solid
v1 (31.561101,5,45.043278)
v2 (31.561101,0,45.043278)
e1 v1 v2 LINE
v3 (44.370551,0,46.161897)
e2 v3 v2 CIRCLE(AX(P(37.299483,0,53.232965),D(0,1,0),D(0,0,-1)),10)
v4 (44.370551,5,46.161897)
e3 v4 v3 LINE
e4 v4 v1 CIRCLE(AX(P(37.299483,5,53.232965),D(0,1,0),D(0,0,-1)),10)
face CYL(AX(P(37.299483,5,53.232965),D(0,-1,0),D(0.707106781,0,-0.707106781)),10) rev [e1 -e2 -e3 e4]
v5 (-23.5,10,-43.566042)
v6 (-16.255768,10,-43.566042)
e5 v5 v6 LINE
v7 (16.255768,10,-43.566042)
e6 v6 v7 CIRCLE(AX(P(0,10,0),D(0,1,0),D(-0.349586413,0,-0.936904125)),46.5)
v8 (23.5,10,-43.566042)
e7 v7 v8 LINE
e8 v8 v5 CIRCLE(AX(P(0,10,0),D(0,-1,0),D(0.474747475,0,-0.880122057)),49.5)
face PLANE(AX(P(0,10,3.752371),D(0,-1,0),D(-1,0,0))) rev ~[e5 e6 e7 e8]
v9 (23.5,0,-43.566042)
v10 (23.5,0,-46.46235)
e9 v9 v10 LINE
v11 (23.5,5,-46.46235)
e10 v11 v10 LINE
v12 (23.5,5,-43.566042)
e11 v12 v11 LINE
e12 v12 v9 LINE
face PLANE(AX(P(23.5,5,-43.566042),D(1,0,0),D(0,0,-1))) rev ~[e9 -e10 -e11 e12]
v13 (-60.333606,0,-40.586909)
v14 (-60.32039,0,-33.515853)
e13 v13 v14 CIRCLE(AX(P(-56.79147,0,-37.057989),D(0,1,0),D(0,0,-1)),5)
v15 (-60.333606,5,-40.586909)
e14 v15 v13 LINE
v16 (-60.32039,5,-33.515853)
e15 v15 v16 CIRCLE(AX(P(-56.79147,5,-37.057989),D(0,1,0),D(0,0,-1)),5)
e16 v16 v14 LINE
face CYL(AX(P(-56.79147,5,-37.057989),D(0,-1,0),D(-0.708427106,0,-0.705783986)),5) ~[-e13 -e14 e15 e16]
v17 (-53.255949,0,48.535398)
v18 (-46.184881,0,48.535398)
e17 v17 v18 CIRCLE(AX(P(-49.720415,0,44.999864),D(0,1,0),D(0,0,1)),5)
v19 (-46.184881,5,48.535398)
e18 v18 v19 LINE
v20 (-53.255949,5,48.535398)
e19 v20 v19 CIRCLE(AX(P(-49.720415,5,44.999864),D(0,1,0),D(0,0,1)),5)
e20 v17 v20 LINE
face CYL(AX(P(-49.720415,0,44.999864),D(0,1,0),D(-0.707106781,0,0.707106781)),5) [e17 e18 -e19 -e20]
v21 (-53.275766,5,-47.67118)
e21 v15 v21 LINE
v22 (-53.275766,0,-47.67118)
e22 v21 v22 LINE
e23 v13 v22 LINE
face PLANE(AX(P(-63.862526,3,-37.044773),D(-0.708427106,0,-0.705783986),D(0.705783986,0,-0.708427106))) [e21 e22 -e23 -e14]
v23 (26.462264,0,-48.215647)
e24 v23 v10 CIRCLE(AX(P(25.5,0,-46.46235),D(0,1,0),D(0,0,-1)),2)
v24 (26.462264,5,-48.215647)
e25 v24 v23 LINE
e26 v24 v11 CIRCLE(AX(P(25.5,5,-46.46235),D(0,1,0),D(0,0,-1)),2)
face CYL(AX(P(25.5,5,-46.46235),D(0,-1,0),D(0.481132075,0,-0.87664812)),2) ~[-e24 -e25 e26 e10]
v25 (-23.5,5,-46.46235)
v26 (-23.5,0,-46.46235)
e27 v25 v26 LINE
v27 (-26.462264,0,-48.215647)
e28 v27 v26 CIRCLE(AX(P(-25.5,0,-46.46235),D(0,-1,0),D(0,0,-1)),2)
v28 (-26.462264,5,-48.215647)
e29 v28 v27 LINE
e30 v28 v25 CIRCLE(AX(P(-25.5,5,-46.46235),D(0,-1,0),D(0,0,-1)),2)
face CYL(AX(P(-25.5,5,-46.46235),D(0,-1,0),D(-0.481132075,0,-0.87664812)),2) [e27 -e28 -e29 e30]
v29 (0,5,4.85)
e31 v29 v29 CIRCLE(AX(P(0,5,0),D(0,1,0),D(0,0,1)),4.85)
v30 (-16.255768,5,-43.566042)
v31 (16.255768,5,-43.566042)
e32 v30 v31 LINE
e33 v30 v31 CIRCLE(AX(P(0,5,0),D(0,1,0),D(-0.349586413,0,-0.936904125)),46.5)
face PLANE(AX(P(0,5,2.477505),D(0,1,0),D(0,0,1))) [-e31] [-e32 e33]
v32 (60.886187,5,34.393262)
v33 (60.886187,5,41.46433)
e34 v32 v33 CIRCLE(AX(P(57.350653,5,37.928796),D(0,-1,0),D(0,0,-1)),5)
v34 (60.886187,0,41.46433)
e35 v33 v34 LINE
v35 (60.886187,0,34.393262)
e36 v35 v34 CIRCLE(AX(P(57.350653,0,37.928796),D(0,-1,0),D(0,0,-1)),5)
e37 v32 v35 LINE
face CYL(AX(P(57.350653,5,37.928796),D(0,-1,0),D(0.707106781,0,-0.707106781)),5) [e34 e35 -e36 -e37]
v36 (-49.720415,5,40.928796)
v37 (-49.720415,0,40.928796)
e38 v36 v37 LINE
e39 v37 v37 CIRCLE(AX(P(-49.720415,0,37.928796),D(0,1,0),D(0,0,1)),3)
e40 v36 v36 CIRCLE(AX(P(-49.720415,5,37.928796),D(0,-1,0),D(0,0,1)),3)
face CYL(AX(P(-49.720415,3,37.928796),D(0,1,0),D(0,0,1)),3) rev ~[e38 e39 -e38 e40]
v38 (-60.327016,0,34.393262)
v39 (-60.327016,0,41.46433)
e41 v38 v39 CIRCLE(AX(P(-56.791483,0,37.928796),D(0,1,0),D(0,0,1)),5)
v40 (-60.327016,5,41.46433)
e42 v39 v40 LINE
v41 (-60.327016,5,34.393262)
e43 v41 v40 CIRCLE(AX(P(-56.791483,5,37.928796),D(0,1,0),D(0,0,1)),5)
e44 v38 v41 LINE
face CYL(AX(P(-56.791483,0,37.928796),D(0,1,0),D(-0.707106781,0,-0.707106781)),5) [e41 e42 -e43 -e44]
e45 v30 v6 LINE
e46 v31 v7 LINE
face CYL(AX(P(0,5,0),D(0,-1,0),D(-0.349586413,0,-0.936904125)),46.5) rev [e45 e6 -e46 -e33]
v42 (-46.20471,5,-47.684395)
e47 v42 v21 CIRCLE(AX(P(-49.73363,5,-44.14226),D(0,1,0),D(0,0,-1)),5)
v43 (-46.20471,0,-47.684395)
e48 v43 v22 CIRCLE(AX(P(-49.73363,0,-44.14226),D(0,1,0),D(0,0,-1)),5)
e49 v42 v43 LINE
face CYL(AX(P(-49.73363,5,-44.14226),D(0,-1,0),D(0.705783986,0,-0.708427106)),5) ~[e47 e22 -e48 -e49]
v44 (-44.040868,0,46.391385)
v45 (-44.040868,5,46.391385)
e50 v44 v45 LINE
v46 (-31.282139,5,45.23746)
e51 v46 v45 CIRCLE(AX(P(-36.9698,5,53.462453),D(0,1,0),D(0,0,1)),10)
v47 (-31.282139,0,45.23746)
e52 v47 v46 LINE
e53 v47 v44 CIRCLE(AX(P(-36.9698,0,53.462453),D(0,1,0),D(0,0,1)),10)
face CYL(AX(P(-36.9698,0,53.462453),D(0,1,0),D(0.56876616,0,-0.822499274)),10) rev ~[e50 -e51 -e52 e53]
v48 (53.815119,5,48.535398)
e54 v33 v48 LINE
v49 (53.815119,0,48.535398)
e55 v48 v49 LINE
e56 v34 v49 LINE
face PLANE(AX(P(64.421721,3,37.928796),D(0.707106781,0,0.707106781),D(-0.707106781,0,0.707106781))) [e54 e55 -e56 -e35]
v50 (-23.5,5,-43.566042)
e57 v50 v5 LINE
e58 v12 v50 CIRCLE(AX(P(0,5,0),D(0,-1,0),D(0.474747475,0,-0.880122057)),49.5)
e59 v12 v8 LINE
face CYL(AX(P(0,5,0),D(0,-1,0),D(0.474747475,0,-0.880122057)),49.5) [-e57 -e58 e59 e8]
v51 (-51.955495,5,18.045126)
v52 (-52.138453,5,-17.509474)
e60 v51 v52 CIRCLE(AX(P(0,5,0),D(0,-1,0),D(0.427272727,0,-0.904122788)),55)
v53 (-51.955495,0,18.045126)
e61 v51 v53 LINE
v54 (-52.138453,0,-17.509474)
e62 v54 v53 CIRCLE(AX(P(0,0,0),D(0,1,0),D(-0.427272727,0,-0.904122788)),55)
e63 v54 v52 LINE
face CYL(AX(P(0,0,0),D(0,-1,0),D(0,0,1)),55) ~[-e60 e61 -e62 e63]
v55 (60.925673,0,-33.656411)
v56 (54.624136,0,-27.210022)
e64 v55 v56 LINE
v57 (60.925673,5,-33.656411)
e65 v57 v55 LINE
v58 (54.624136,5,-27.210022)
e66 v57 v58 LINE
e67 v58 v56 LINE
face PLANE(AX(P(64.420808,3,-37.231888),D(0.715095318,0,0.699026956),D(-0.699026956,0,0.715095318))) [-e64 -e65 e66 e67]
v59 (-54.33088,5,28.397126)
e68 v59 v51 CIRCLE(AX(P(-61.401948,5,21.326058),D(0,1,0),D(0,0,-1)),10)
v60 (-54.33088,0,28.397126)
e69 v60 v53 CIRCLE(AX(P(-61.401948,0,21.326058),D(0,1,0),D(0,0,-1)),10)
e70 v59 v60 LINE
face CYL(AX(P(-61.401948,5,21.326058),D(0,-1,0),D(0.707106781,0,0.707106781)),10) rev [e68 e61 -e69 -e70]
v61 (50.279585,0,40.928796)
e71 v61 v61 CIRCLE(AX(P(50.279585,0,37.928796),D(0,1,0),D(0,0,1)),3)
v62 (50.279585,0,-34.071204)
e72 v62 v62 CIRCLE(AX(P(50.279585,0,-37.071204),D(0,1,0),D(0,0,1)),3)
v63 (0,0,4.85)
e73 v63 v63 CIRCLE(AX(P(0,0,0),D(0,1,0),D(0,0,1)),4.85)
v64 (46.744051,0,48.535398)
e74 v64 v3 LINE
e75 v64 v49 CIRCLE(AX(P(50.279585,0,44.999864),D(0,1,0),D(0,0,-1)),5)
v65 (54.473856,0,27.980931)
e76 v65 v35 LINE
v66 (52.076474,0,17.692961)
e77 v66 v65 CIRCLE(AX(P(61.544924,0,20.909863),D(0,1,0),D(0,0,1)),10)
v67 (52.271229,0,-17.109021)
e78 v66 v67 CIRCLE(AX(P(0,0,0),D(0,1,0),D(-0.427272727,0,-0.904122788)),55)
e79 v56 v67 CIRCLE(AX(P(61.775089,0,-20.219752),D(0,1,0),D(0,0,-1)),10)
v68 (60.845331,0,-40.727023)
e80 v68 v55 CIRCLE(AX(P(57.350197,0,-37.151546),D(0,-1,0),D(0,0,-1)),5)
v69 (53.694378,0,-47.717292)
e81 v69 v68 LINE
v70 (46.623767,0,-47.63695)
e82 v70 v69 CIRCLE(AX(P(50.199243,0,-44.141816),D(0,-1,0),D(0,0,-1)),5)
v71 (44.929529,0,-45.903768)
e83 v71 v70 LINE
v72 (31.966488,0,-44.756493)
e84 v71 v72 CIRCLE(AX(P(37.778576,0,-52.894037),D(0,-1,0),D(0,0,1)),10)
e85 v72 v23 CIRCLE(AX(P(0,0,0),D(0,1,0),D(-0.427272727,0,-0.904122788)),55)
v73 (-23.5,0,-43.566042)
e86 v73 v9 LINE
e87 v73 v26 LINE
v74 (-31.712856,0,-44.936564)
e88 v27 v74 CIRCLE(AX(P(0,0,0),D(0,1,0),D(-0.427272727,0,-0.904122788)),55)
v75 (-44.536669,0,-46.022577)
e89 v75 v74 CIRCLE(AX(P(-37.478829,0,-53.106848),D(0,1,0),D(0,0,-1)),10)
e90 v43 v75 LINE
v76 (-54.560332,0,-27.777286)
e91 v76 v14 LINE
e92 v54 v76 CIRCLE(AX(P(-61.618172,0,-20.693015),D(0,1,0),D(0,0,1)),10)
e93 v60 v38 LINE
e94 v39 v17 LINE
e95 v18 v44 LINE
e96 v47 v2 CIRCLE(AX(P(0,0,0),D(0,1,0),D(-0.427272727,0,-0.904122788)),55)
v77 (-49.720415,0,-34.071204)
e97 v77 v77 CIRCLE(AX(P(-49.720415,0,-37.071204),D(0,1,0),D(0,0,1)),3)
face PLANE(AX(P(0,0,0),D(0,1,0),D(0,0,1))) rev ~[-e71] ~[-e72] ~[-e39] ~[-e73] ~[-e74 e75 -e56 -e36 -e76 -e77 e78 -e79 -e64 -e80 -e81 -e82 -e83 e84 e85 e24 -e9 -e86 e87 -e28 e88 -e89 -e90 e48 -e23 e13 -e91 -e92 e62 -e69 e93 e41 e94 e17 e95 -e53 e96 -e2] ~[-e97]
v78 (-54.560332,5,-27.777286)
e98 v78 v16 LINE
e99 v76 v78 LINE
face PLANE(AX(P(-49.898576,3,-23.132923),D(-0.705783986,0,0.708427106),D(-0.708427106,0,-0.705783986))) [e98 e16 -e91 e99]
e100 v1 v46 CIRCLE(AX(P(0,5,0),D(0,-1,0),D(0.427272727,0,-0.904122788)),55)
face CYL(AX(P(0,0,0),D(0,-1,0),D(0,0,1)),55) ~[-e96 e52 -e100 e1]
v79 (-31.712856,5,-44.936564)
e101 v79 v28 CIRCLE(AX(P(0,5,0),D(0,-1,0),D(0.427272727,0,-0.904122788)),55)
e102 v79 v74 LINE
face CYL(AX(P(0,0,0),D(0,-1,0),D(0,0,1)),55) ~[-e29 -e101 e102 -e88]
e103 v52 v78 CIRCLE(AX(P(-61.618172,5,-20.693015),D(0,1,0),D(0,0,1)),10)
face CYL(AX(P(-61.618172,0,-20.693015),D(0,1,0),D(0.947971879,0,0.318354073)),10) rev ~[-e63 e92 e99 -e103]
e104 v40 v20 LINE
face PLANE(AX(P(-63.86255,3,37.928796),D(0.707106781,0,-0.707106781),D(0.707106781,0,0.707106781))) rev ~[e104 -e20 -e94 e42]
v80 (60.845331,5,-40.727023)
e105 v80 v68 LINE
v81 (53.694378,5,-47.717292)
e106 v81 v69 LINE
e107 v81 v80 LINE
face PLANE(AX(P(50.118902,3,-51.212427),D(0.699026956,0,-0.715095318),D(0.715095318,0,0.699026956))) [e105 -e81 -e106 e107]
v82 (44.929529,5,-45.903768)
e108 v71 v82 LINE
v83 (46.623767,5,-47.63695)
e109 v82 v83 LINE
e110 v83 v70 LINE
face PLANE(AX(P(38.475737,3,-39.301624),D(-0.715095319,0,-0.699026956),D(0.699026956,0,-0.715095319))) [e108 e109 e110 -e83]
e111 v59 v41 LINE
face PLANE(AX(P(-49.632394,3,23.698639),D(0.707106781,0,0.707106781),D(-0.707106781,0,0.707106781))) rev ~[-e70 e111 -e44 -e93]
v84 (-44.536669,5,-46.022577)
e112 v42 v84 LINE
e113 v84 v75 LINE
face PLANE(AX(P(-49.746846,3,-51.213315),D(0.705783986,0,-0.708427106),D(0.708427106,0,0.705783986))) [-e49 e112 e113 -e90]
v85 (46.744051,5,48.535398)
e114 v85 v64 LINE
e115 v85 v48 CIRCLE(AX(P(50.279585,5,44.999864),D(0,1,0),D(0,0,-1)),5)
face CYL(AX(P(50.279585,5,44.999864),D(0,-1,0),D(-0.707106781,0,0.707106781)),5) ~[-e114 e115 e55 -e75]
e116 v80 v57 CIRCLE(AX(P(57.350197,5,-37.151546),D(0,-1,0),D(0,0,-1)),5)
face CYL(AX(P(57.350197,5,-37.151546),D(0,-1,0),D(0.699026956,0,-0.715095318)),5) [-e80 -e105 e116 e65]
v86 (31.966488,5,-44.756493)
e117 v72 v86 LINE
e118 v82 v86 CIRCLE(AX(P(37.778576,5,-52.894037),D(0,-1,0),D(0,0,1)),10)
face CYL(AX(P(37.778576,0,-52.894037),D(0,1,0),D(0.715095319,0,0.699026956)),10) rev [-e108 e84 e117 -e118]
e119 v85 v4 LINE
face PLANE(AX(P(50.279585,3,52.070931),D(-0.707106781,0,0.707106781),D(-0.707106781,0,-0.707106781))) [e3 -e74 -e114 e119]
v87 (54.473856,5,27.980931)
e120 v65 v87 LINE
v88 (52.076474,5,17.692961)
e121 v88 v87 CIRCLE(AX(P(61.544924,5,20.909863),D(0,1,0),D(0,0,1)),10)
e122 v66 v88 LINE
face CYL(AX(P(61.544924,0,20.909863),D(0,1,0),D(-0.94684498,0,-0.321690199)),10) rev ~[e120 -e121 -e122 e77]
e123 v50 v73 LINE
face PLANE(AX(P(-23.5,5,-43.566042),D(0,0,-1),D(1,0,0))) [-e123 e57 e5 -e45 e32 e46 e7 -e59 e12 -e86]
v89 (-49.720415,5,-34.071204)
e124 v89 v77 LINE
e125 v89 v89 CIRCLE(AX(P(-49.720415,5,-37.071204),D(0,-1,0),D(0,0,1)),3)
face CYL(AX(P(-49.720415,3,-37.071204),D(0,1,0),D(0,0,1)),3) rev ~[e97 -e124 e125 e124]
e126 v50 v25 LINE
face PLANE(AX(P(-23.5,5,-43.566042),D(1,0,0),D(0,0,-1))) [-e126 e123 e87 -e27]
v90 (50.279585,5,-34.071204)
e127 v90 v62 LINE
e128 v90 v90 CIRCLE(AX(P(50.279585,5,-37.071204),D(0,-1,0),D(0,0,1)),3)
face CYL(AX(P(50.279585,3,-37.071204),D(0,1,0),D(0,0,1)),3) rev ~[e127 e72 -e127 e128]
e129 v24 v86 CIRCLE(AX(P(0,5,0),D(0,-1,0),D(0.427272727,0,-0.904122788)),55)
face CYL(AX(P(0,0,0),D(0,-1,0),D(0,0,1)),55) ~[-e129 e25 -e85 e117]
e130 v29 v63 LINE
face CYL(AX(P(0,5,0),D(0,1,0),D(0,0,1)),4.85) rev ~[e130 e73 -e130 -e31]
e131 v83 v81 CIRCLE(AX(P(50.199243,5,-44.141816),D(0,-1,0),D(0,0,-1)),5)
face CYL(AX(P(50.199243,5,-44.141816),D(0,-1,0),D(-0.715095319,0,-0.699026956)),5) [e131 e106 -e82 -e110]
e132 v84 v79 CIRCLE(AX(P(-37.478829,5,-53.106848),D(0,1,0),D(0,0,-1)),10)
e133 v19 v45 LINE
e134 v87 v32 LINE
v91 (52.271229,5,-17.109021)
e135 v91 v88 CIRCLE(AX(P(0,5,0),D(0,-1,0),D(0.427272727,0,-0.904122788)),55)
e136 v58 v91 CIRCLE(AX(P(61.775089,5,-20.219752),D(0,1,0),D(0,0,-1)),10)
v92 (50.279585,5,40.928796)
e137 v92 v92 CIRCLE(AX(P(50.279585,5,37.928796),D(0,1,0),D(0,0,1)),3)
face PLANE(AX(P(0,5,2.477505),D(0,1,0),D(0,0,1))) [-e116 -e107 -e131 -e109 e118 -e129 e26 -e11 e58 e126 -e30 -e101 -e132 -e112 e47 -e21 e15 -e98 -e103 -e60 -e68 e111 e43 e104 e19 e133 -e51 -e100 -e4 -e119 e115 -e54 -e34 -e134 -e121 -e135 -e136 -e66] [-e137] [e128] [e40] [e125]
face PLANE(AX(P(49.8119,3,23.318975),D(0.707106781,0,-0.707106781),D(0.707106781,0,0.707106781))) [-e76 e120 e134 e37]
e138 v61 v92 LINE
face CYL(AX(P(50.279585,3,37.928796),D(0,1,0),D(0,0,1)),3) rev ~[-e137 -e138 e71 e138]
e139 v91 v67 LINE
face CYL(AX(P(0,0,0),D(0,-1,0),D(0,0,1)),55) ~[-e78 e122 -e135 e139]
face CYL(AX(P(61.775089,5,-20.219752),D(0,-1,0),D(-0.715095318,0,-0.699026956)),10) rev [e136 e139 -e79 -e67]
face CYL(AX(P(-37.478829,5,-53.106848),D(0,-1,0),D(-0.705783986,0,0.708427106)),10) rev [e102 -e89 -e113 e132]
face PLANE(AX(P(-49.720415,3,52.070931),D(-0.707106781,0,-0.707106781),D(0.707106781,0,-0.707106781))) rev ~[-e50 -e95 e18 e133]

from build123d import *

# Parameters (mm, degrees)
SKETCH_1_R                  = 55
EXTRUDE_1_DEPTH             = 5
SKETCH_5_W                  = 47
SKETCH_5_H                  = 12.24289715
CUT_EXTRUDE_2_DEPTH         = 30
FILLET_4_R                  = 2
FILLET_5_R                  = 2
EXTRUDE_3_REACH             = 79.84
EXTRUDE_3_DIRECTION_2_REACH = 79.84
FILLET_7_R                  = 10
FILLET_8_R                  = 5
SKETCH_10_R                 = 3
CUT_EXTRUDE_5_DEPTH         = 5
SKETCH_15_R                 = 4.85
CUT_EXTRUDE_6_DEPTH         = 10
EXTRUDE_4_DEPTH             = 5


with BuildPart() as part:
    # 草图1 → 凸台-拉伸1 (new body)
    with BuildSketch(Plane(origin=(0, 0, 0), x_dir=(1, 0, 0), z_dir=(0, 1, 0))):
        with Locations(Location((0, 0, 0), (0, 0, 270))):
            Circle(SKETCH_1_R)
    extrude(amount=EXTRUDE_1_DEPTH)

    # 草图5 → 切除-拉伸2 (cut)
    with BuildSketch(Plane(origin=(0, 5, 0), x_dir=(1, 0, 0), z_dir=(0, 1, 0))):
        with Locations((0, 49.687490397)):
            Rectangle(SKETCH_5_W, SKETCH_5_H)
    extrude(amount=-CUT_EXTRUDE_2_DEPTH, mode=Mode.SUBTRACT)

    # 圆角4
    fillet_4_edges = [part.edges().sort_by_distance(p)[0] for p in [
        (-23.5, 2.5, -49.726753363),
    ]]
    fillet(fillet_4_edges, radius=FILLET_4_R)

    # 圆角5
    fillet_5_edges = [part.edges().sort_by_distance(p)[0] for p in [
        (23.5, 2.5, -49.726753363),
    ]]
    fillet(fillet_5_edges, radius=FILLET_5_R)

    # 凸台-拉伸3: up to this face of the body (flat: up to its plane)
    extrude_3_end = Plane(part.part.faces().sort_by_distance((0, 0, 2.477505486))[0])
    # 草图14 → 凸台-拉伸3 (add, up to the picked face)
    with BuildSketch(Plane(origin=(0, 3, 0), x_dir=(1, 0, 0), z_dir=(0, 1, 0)), mode=Mode.PRIVATE) as extrude_3_sk1:
        with BuildLine():
            Line((-49.898576095, 23.132922507), (-63.862525635, 37.044772973))
            Line((-63.862525635, 37.044772973), (-49.746845912, 51.213315099))
            Line((-49.746845912, 51.213315099), (-38.128637352, 39.638453724))
            ThreePointArc((-38.128637352, 39.638453724), (-44.78063998, 31.932652301), (-49.898576095, 23.132922507))
        make_face()
    extrude_3_tool1 = split(extrude(extrude_3_sk1.sketch, amount=-EXTRUDE_3_REACH, mode=Mode.PRIVATE), bisect_by=extrude_3_end, keep=Keep.BOTH, mode=Mode.PRIVATE)
    # 草图14 → 凸台-拉伸3 (add, up to the picked face)
    with BuildSketch(Plane(origin=(0, 3, 0), x_dir=(1, 0, 0), z_dir=(0, 1, 0)), mode=Mode.PRIVATE) as extrude_3_sk2:
        with BuildLine():
            Line((49.811900188, -23.3189751), (64.421720913, -37.928795825))
            Line((64.421720913, -37.928795825), (50.279585289, -52.070931449))
            Line((50.279585289, -52.070931449), (37.984884655, -39.776230814))
            ThreePointArc((37.984884655, -39.776230814), (44.662950793, -32.097053236), (49.811900188, -23.3189751))
        make_face()
    extrude_3_tool2 = split(extrude(extrude_3_sk2.sketch, amount=-EXTRUDE_3_REACH, mode=Mode.PRIVATE), bisect_by=extrude_3_end, keep=Keep.BOTH, mode=Mode.PRIVATE)
    # 草图14 → 凸台-拉伸3 (add, up to the picked face)
    with BuildSketch(Plane(origin=(0, 3, 0), x_dir=(1, 0, 0), z_dir=(0, 1, 0)), mode=Mode.PRIVATE) as extrude_3_sk3:
        with BuildLine():
            Line((-49.632393674, -23.698639164), (-63.862550335, -37.928795825))
            Line((-63.862550335, -37.928795825), (-49.720414711, -52.070931449))
            Line((-49.720414711, -52.070931449), (-37.697852746, -40.048369484))
            ThreePointArc((-37.697852746, -40.048369484), (-44.423770724, -32.427281642), (-49.632393674, -23.698639164))
        make_face()
    extrude_3_tool3 = split(extrude(extrude_3_sk3.sketch, amount=-EXTRUDE_3_REACH, mode=Mode.PRIVATE), bisect_by=extrude_3_end, keep=Keep.BOTH, mode=Mode.PRIVATE)
    # 草图14 → 凸台-拉伸3 (add, up to the picked face)
    with BuildSketch(Plane(origin=(0, 3, 0), x_dir=(1, 0, 0), z_dir=(0, 1, 0)), mode=Mode.PRIVATE) as extrude_3_sk4:
        with BuildLine():
            Line((38.475737251, 39.301623923), (50.118901666, 51.212426922))
            Line((50.118901666, 51.212426922), (64.420808036, 37.231887798))
            Line((64.420808036, 37.231887798), (50.134465219, 22.6171483))
            ThreePointArc((50.134465219, 22.6171483), (45.083643676, 31.50341367), (38.475737251, 39.301623923))
        make_face()
    extrude_3_tool4 = split(extrude(extrude_3_sk4.sketch, amount=-EXTRUDE_3_REACH, mode=Mode.PRIVATE), bisect_by=extrude_3_end, keep=Keep.BOTH, mode=Mode.PRIVATE)
    add(extrude_3_tool1.solids().sort_by(Axis((-50.837096, 3, -37.73966), (0, -1, 0)))[0])
    add(extrude_3_tool2.solids().sort_by(Axis((51.039653, 3, 38.272151), (0, -1, 0)))[0])
    add(extrude_3_tool3.solids().sort_by(Axis((-50.639154, 3, 38.439997), (0, -1, 0)))[0])
    add(extrude_3_tool4.solids().sort_by(Axis((51.238479, 3, -37.552164), (0, -1, 0)))[0])

    # 凸台-拉伸3 direction 2: up to this face of the body (flat: up to its plane)
    extrude_3_direction_2_end = Plane(part.part.faces().sort_by_distance((0, 5, 2.477505486))[0])
    # 草图14 → 凸台-拉伸3 direction 2 (add, up to the picked face)
    with BuildSketch(Plane(origin=(0, 3, 0), x_dir=(1, 0, 0), z_dir=(0, 1, 0)), mode=Mode.PRIVATE) as extrude_3_direction_2_sk1:
        with BuildLine():
            Line((-49.898576095, 23.132922507), (-63.862525635, 37.044772973))
            Line((-63.862525635, 37.044772973), (-49.746845912, 51.213315099))
            Line((-49.746845912, 51.213315099), (-38.128637352, 39.638453724))
            ThreePointArc((-38.128637352, 39.638453724), (-44.78063998, 31.932652301), (-49.898576095, 23.132922507))
        make_face()
    extrude_3_direction_2_tool1 = split(extrude(extrude_3_direction_2_sk1.sketch, amount=EXTRUDE_3_DIRECTION_2_REACH, mode=Mode.PRIVATE), bisect_by=extrude_3_direction_2_end, keep=Keep.BOTH, mode=Mode.PRIVATE)
    # 草图14 → 凸台-拉伸3 direction 2 (add, up to the picked face)
    with BuildSketch(Plane(origin=(0, 3, 0), x_dir=(1, 0, 0), z_dir=(0, 1, 0)), mode=Mode.PRIVATE) as extrude_3_direction_2_sk2:
        with BuildLine():
            Line((49.811900188, -23.3189751), (64.421720913, -37.928795825))
            Line((64.421720913, -37.928795825), (50.279585289, -52.070931449))
            Line((50.279585289, -52.070931449), (37.984884655, -39.776230814))
            ThreePointArc((37.984884655, -39.776230814), (44.662950793, -32.097053236), (49.811900188, -23.3189751))
        make_face()
    extrude_3_direction_2_tool2 = split(extrude(extrude_3_direction_2_sk2.sketch, amount=EXTRUDE_3_DIRECTION_2_REACH, mode=Mode.PRIVATE), bisect_by=extrude_3_direction_2_end, keep=Keep.BOTH, mode=Mode.PRIVATE)
    # 草图14 → 凸台-拉伸3 direction 2 (add, up to the picked face)
    with BuildSketch(Plane(origin=(0, 3, 0), x_dir=(1, 0, 0), z_dir=(0, 1, 0)), mode=Mode.PRIVATE) as extrude_3_direction_2_sk3:
        with BuildLine():
            Line((-49.632393674, -23.698639164), (-63.862550335, -37.928795825))
            Line((-63.862550335, -37.928795825), (-49.720414711, -52.070931449))
            Line((-49.720414711, -52.070931449), (-37.697852746, -40.048369484))
            ThreePointArc((-37.697852746, -40.048369484), (-44.423770724, -32.427281642), (-49.632393674, -23.698639164))
        make_face()
    extrude_3_direction_2_tool3 = split(extrude(extrude_3_direction_2_sk3.sketch, amount=EXTRUDE_3_DIRECTION_2_REACH, mode=Mode.PRIVATE), bisect_by=extrude_3_direction_2_end, keep=Keep.BOTH, mode=Mode.PRIVATE)
    # 草图14 → 凸台-拉伸3 direction 2 (add, up to the picked face)
    with BuildSketch(Plane(origin=(0, 3, 0), x_dir=(1, 0, 0), z_dir=(0, 1, 0)), mode=Mode.PRIVATE) as extrude_3_direction_2_sk4:
        with BuildLine():
            Line((38.475737251, 39.301623923), (50.118901666, 51.212426922))
            Line((50.118901666, 51.212426922), (64.420808036, 37.231887798))
            Line((64.420808036, 37.231887798), (50.134465219, 22.6171483))
            ThreePointArc((50.134465219, 22.6171483), (45.083643676, 31.50341367), (38.475737251, 39.301623923))
        make_face()
    extrude_3_direction_2_tool4 = split(extrude(extrude_3_direction_2_sk4.sketch, amount=EXTRUDE_3_DIRECTION_2_REACH, mode=Mode.PRIVATE), bisect_by=extrude_3_direction_2_end, keep=Keep.BOTH, mode=Mode.PRIVATE)
    add(extrude_3_direction_2_tool1.solids().sort_by(Axis((-50.837096, 3, -37.73966), (0, 1, 0)))[0])
    add(extrude_3_direction_2_tool2.solids().sort_by(Axis((51.039653, 3, 38.272151), (0, 1, 0)))[0])
    add(extrude_3_direction_2_tool3.solids().sort_by(Axis((-50.639154, 3, 38.439997), (0, 1, 0)))[0])
    add(extrude_3_direction_2_tool4.solids().sort_by(Axis((51.238479, 3, -37.552164), (0, 1, 0)))[0])

    # 圆角7
    fillet_7_edges = [part.edges().sort_by_distance(p)[0] for p in [
        (-38.128637352, 2.5, -39.638453724),
        (-49.898576095, 2.5, -23.132922507),
        (-49.632393674, 2.5, 23.698639164),
        (-37.697852746, 2.5, 40.048369484),
        (50.134465219, 2.5, -22.6171483),
        (38.475737251, 2.5, -39.301623923),
        (37.984884655, 2.5, 39.776230814),
        (49.811900188, 2.5, 23.3189751),
    ]]
    fillet(fillet_7_edges, radius=FILLET_7_R)

    # 圆角8
    fillet_8_edges = [part.edges().sort_by_distance(p)[0] for p in [
        (-63.862525635, 2.5, -37.044772973),
        (-49.746845912, 2.5, -51.213315099),
        (-49.720414711, 2.5, 52.070931449),
        (-63.862550335, 2.5, 37.928795825),
        (50.118901666, 2.5, -51.212426922),
        (64.420808036, 2.5, -37.231887798),
        (50.279585289, 2.5, 52.070931449),
        (64.421720913, 2.5, 37.928795825),
    ]]
    fillet(fillet_8_edges, radius=FILLET_8_R)

    # 草图10 → 切除-拉伸5 (cut, symmetric)
    with BuildSketch(Plane(origin=(0, 3, 0), x_dir=(1, 0, 0), z_dir=(0, 1, 0))):
        with Locations(Location((-49.720414711, 37.071204175, 0), (0, 0, 270))):
            Circle(SKETCH_10_R)
        with Locations(Location((50.279585289, 37.071204175, 0), (0, 0, 270))):
            Circle(SKETCH_10_R)
        with Locations(Location((-49.720414711, -37.928795825, 0), (0, 0, 270))):
            Circle(SKETCH_10_R)
        with Locations(Location((50.279585289, -37.928795825, 0), (0, 0, 270))):
            Circle(SKETCH_10_R)
    extrude(amount=CUT_EXTRUDE_5_DEPTH, both=True, mode=Mode.SUBTRACT)

    # 草图15 → 切除-拉伸6 (cut)
    with BuildSketch(Plane(origin=(0, 5, 0), x_dir=(1, 0, 0), z_dir=(0, 1, 0))):
        with Locations(Location((0, 0, 0), (0, 0, 270))):
            Circle(SKETCH_15_R)
    extrude(amount=-CUT_EXTRUDE_6_DEPTH, mode=Mode.SUBTRACT)

    # 草图17 → 凸台-拉伸4 (add)
    with BuildSketch(Plane(origin=(0, 5, 0), x_dir=(1, 0, 0), z_dir=(0, 1, 0))):
        with BuildLine():
            Line((-23.5, 43.566041822), (-16.255768207, 43.566041822))
            ThreePointArc((-16.255768207, 43.566041822), (0, -46.5), (16.255768207, 43.566041822))
            Line((16.255768207, 43.566041822), (23.5, 43.566041822))
            ThreePointArc((23.5, 43.566041822), (0, -49.5), (-23.5, 43.566041822))
        make_face()
    extrude(amount=EXTRUDE_4_DEPTH)


solid = part.part
